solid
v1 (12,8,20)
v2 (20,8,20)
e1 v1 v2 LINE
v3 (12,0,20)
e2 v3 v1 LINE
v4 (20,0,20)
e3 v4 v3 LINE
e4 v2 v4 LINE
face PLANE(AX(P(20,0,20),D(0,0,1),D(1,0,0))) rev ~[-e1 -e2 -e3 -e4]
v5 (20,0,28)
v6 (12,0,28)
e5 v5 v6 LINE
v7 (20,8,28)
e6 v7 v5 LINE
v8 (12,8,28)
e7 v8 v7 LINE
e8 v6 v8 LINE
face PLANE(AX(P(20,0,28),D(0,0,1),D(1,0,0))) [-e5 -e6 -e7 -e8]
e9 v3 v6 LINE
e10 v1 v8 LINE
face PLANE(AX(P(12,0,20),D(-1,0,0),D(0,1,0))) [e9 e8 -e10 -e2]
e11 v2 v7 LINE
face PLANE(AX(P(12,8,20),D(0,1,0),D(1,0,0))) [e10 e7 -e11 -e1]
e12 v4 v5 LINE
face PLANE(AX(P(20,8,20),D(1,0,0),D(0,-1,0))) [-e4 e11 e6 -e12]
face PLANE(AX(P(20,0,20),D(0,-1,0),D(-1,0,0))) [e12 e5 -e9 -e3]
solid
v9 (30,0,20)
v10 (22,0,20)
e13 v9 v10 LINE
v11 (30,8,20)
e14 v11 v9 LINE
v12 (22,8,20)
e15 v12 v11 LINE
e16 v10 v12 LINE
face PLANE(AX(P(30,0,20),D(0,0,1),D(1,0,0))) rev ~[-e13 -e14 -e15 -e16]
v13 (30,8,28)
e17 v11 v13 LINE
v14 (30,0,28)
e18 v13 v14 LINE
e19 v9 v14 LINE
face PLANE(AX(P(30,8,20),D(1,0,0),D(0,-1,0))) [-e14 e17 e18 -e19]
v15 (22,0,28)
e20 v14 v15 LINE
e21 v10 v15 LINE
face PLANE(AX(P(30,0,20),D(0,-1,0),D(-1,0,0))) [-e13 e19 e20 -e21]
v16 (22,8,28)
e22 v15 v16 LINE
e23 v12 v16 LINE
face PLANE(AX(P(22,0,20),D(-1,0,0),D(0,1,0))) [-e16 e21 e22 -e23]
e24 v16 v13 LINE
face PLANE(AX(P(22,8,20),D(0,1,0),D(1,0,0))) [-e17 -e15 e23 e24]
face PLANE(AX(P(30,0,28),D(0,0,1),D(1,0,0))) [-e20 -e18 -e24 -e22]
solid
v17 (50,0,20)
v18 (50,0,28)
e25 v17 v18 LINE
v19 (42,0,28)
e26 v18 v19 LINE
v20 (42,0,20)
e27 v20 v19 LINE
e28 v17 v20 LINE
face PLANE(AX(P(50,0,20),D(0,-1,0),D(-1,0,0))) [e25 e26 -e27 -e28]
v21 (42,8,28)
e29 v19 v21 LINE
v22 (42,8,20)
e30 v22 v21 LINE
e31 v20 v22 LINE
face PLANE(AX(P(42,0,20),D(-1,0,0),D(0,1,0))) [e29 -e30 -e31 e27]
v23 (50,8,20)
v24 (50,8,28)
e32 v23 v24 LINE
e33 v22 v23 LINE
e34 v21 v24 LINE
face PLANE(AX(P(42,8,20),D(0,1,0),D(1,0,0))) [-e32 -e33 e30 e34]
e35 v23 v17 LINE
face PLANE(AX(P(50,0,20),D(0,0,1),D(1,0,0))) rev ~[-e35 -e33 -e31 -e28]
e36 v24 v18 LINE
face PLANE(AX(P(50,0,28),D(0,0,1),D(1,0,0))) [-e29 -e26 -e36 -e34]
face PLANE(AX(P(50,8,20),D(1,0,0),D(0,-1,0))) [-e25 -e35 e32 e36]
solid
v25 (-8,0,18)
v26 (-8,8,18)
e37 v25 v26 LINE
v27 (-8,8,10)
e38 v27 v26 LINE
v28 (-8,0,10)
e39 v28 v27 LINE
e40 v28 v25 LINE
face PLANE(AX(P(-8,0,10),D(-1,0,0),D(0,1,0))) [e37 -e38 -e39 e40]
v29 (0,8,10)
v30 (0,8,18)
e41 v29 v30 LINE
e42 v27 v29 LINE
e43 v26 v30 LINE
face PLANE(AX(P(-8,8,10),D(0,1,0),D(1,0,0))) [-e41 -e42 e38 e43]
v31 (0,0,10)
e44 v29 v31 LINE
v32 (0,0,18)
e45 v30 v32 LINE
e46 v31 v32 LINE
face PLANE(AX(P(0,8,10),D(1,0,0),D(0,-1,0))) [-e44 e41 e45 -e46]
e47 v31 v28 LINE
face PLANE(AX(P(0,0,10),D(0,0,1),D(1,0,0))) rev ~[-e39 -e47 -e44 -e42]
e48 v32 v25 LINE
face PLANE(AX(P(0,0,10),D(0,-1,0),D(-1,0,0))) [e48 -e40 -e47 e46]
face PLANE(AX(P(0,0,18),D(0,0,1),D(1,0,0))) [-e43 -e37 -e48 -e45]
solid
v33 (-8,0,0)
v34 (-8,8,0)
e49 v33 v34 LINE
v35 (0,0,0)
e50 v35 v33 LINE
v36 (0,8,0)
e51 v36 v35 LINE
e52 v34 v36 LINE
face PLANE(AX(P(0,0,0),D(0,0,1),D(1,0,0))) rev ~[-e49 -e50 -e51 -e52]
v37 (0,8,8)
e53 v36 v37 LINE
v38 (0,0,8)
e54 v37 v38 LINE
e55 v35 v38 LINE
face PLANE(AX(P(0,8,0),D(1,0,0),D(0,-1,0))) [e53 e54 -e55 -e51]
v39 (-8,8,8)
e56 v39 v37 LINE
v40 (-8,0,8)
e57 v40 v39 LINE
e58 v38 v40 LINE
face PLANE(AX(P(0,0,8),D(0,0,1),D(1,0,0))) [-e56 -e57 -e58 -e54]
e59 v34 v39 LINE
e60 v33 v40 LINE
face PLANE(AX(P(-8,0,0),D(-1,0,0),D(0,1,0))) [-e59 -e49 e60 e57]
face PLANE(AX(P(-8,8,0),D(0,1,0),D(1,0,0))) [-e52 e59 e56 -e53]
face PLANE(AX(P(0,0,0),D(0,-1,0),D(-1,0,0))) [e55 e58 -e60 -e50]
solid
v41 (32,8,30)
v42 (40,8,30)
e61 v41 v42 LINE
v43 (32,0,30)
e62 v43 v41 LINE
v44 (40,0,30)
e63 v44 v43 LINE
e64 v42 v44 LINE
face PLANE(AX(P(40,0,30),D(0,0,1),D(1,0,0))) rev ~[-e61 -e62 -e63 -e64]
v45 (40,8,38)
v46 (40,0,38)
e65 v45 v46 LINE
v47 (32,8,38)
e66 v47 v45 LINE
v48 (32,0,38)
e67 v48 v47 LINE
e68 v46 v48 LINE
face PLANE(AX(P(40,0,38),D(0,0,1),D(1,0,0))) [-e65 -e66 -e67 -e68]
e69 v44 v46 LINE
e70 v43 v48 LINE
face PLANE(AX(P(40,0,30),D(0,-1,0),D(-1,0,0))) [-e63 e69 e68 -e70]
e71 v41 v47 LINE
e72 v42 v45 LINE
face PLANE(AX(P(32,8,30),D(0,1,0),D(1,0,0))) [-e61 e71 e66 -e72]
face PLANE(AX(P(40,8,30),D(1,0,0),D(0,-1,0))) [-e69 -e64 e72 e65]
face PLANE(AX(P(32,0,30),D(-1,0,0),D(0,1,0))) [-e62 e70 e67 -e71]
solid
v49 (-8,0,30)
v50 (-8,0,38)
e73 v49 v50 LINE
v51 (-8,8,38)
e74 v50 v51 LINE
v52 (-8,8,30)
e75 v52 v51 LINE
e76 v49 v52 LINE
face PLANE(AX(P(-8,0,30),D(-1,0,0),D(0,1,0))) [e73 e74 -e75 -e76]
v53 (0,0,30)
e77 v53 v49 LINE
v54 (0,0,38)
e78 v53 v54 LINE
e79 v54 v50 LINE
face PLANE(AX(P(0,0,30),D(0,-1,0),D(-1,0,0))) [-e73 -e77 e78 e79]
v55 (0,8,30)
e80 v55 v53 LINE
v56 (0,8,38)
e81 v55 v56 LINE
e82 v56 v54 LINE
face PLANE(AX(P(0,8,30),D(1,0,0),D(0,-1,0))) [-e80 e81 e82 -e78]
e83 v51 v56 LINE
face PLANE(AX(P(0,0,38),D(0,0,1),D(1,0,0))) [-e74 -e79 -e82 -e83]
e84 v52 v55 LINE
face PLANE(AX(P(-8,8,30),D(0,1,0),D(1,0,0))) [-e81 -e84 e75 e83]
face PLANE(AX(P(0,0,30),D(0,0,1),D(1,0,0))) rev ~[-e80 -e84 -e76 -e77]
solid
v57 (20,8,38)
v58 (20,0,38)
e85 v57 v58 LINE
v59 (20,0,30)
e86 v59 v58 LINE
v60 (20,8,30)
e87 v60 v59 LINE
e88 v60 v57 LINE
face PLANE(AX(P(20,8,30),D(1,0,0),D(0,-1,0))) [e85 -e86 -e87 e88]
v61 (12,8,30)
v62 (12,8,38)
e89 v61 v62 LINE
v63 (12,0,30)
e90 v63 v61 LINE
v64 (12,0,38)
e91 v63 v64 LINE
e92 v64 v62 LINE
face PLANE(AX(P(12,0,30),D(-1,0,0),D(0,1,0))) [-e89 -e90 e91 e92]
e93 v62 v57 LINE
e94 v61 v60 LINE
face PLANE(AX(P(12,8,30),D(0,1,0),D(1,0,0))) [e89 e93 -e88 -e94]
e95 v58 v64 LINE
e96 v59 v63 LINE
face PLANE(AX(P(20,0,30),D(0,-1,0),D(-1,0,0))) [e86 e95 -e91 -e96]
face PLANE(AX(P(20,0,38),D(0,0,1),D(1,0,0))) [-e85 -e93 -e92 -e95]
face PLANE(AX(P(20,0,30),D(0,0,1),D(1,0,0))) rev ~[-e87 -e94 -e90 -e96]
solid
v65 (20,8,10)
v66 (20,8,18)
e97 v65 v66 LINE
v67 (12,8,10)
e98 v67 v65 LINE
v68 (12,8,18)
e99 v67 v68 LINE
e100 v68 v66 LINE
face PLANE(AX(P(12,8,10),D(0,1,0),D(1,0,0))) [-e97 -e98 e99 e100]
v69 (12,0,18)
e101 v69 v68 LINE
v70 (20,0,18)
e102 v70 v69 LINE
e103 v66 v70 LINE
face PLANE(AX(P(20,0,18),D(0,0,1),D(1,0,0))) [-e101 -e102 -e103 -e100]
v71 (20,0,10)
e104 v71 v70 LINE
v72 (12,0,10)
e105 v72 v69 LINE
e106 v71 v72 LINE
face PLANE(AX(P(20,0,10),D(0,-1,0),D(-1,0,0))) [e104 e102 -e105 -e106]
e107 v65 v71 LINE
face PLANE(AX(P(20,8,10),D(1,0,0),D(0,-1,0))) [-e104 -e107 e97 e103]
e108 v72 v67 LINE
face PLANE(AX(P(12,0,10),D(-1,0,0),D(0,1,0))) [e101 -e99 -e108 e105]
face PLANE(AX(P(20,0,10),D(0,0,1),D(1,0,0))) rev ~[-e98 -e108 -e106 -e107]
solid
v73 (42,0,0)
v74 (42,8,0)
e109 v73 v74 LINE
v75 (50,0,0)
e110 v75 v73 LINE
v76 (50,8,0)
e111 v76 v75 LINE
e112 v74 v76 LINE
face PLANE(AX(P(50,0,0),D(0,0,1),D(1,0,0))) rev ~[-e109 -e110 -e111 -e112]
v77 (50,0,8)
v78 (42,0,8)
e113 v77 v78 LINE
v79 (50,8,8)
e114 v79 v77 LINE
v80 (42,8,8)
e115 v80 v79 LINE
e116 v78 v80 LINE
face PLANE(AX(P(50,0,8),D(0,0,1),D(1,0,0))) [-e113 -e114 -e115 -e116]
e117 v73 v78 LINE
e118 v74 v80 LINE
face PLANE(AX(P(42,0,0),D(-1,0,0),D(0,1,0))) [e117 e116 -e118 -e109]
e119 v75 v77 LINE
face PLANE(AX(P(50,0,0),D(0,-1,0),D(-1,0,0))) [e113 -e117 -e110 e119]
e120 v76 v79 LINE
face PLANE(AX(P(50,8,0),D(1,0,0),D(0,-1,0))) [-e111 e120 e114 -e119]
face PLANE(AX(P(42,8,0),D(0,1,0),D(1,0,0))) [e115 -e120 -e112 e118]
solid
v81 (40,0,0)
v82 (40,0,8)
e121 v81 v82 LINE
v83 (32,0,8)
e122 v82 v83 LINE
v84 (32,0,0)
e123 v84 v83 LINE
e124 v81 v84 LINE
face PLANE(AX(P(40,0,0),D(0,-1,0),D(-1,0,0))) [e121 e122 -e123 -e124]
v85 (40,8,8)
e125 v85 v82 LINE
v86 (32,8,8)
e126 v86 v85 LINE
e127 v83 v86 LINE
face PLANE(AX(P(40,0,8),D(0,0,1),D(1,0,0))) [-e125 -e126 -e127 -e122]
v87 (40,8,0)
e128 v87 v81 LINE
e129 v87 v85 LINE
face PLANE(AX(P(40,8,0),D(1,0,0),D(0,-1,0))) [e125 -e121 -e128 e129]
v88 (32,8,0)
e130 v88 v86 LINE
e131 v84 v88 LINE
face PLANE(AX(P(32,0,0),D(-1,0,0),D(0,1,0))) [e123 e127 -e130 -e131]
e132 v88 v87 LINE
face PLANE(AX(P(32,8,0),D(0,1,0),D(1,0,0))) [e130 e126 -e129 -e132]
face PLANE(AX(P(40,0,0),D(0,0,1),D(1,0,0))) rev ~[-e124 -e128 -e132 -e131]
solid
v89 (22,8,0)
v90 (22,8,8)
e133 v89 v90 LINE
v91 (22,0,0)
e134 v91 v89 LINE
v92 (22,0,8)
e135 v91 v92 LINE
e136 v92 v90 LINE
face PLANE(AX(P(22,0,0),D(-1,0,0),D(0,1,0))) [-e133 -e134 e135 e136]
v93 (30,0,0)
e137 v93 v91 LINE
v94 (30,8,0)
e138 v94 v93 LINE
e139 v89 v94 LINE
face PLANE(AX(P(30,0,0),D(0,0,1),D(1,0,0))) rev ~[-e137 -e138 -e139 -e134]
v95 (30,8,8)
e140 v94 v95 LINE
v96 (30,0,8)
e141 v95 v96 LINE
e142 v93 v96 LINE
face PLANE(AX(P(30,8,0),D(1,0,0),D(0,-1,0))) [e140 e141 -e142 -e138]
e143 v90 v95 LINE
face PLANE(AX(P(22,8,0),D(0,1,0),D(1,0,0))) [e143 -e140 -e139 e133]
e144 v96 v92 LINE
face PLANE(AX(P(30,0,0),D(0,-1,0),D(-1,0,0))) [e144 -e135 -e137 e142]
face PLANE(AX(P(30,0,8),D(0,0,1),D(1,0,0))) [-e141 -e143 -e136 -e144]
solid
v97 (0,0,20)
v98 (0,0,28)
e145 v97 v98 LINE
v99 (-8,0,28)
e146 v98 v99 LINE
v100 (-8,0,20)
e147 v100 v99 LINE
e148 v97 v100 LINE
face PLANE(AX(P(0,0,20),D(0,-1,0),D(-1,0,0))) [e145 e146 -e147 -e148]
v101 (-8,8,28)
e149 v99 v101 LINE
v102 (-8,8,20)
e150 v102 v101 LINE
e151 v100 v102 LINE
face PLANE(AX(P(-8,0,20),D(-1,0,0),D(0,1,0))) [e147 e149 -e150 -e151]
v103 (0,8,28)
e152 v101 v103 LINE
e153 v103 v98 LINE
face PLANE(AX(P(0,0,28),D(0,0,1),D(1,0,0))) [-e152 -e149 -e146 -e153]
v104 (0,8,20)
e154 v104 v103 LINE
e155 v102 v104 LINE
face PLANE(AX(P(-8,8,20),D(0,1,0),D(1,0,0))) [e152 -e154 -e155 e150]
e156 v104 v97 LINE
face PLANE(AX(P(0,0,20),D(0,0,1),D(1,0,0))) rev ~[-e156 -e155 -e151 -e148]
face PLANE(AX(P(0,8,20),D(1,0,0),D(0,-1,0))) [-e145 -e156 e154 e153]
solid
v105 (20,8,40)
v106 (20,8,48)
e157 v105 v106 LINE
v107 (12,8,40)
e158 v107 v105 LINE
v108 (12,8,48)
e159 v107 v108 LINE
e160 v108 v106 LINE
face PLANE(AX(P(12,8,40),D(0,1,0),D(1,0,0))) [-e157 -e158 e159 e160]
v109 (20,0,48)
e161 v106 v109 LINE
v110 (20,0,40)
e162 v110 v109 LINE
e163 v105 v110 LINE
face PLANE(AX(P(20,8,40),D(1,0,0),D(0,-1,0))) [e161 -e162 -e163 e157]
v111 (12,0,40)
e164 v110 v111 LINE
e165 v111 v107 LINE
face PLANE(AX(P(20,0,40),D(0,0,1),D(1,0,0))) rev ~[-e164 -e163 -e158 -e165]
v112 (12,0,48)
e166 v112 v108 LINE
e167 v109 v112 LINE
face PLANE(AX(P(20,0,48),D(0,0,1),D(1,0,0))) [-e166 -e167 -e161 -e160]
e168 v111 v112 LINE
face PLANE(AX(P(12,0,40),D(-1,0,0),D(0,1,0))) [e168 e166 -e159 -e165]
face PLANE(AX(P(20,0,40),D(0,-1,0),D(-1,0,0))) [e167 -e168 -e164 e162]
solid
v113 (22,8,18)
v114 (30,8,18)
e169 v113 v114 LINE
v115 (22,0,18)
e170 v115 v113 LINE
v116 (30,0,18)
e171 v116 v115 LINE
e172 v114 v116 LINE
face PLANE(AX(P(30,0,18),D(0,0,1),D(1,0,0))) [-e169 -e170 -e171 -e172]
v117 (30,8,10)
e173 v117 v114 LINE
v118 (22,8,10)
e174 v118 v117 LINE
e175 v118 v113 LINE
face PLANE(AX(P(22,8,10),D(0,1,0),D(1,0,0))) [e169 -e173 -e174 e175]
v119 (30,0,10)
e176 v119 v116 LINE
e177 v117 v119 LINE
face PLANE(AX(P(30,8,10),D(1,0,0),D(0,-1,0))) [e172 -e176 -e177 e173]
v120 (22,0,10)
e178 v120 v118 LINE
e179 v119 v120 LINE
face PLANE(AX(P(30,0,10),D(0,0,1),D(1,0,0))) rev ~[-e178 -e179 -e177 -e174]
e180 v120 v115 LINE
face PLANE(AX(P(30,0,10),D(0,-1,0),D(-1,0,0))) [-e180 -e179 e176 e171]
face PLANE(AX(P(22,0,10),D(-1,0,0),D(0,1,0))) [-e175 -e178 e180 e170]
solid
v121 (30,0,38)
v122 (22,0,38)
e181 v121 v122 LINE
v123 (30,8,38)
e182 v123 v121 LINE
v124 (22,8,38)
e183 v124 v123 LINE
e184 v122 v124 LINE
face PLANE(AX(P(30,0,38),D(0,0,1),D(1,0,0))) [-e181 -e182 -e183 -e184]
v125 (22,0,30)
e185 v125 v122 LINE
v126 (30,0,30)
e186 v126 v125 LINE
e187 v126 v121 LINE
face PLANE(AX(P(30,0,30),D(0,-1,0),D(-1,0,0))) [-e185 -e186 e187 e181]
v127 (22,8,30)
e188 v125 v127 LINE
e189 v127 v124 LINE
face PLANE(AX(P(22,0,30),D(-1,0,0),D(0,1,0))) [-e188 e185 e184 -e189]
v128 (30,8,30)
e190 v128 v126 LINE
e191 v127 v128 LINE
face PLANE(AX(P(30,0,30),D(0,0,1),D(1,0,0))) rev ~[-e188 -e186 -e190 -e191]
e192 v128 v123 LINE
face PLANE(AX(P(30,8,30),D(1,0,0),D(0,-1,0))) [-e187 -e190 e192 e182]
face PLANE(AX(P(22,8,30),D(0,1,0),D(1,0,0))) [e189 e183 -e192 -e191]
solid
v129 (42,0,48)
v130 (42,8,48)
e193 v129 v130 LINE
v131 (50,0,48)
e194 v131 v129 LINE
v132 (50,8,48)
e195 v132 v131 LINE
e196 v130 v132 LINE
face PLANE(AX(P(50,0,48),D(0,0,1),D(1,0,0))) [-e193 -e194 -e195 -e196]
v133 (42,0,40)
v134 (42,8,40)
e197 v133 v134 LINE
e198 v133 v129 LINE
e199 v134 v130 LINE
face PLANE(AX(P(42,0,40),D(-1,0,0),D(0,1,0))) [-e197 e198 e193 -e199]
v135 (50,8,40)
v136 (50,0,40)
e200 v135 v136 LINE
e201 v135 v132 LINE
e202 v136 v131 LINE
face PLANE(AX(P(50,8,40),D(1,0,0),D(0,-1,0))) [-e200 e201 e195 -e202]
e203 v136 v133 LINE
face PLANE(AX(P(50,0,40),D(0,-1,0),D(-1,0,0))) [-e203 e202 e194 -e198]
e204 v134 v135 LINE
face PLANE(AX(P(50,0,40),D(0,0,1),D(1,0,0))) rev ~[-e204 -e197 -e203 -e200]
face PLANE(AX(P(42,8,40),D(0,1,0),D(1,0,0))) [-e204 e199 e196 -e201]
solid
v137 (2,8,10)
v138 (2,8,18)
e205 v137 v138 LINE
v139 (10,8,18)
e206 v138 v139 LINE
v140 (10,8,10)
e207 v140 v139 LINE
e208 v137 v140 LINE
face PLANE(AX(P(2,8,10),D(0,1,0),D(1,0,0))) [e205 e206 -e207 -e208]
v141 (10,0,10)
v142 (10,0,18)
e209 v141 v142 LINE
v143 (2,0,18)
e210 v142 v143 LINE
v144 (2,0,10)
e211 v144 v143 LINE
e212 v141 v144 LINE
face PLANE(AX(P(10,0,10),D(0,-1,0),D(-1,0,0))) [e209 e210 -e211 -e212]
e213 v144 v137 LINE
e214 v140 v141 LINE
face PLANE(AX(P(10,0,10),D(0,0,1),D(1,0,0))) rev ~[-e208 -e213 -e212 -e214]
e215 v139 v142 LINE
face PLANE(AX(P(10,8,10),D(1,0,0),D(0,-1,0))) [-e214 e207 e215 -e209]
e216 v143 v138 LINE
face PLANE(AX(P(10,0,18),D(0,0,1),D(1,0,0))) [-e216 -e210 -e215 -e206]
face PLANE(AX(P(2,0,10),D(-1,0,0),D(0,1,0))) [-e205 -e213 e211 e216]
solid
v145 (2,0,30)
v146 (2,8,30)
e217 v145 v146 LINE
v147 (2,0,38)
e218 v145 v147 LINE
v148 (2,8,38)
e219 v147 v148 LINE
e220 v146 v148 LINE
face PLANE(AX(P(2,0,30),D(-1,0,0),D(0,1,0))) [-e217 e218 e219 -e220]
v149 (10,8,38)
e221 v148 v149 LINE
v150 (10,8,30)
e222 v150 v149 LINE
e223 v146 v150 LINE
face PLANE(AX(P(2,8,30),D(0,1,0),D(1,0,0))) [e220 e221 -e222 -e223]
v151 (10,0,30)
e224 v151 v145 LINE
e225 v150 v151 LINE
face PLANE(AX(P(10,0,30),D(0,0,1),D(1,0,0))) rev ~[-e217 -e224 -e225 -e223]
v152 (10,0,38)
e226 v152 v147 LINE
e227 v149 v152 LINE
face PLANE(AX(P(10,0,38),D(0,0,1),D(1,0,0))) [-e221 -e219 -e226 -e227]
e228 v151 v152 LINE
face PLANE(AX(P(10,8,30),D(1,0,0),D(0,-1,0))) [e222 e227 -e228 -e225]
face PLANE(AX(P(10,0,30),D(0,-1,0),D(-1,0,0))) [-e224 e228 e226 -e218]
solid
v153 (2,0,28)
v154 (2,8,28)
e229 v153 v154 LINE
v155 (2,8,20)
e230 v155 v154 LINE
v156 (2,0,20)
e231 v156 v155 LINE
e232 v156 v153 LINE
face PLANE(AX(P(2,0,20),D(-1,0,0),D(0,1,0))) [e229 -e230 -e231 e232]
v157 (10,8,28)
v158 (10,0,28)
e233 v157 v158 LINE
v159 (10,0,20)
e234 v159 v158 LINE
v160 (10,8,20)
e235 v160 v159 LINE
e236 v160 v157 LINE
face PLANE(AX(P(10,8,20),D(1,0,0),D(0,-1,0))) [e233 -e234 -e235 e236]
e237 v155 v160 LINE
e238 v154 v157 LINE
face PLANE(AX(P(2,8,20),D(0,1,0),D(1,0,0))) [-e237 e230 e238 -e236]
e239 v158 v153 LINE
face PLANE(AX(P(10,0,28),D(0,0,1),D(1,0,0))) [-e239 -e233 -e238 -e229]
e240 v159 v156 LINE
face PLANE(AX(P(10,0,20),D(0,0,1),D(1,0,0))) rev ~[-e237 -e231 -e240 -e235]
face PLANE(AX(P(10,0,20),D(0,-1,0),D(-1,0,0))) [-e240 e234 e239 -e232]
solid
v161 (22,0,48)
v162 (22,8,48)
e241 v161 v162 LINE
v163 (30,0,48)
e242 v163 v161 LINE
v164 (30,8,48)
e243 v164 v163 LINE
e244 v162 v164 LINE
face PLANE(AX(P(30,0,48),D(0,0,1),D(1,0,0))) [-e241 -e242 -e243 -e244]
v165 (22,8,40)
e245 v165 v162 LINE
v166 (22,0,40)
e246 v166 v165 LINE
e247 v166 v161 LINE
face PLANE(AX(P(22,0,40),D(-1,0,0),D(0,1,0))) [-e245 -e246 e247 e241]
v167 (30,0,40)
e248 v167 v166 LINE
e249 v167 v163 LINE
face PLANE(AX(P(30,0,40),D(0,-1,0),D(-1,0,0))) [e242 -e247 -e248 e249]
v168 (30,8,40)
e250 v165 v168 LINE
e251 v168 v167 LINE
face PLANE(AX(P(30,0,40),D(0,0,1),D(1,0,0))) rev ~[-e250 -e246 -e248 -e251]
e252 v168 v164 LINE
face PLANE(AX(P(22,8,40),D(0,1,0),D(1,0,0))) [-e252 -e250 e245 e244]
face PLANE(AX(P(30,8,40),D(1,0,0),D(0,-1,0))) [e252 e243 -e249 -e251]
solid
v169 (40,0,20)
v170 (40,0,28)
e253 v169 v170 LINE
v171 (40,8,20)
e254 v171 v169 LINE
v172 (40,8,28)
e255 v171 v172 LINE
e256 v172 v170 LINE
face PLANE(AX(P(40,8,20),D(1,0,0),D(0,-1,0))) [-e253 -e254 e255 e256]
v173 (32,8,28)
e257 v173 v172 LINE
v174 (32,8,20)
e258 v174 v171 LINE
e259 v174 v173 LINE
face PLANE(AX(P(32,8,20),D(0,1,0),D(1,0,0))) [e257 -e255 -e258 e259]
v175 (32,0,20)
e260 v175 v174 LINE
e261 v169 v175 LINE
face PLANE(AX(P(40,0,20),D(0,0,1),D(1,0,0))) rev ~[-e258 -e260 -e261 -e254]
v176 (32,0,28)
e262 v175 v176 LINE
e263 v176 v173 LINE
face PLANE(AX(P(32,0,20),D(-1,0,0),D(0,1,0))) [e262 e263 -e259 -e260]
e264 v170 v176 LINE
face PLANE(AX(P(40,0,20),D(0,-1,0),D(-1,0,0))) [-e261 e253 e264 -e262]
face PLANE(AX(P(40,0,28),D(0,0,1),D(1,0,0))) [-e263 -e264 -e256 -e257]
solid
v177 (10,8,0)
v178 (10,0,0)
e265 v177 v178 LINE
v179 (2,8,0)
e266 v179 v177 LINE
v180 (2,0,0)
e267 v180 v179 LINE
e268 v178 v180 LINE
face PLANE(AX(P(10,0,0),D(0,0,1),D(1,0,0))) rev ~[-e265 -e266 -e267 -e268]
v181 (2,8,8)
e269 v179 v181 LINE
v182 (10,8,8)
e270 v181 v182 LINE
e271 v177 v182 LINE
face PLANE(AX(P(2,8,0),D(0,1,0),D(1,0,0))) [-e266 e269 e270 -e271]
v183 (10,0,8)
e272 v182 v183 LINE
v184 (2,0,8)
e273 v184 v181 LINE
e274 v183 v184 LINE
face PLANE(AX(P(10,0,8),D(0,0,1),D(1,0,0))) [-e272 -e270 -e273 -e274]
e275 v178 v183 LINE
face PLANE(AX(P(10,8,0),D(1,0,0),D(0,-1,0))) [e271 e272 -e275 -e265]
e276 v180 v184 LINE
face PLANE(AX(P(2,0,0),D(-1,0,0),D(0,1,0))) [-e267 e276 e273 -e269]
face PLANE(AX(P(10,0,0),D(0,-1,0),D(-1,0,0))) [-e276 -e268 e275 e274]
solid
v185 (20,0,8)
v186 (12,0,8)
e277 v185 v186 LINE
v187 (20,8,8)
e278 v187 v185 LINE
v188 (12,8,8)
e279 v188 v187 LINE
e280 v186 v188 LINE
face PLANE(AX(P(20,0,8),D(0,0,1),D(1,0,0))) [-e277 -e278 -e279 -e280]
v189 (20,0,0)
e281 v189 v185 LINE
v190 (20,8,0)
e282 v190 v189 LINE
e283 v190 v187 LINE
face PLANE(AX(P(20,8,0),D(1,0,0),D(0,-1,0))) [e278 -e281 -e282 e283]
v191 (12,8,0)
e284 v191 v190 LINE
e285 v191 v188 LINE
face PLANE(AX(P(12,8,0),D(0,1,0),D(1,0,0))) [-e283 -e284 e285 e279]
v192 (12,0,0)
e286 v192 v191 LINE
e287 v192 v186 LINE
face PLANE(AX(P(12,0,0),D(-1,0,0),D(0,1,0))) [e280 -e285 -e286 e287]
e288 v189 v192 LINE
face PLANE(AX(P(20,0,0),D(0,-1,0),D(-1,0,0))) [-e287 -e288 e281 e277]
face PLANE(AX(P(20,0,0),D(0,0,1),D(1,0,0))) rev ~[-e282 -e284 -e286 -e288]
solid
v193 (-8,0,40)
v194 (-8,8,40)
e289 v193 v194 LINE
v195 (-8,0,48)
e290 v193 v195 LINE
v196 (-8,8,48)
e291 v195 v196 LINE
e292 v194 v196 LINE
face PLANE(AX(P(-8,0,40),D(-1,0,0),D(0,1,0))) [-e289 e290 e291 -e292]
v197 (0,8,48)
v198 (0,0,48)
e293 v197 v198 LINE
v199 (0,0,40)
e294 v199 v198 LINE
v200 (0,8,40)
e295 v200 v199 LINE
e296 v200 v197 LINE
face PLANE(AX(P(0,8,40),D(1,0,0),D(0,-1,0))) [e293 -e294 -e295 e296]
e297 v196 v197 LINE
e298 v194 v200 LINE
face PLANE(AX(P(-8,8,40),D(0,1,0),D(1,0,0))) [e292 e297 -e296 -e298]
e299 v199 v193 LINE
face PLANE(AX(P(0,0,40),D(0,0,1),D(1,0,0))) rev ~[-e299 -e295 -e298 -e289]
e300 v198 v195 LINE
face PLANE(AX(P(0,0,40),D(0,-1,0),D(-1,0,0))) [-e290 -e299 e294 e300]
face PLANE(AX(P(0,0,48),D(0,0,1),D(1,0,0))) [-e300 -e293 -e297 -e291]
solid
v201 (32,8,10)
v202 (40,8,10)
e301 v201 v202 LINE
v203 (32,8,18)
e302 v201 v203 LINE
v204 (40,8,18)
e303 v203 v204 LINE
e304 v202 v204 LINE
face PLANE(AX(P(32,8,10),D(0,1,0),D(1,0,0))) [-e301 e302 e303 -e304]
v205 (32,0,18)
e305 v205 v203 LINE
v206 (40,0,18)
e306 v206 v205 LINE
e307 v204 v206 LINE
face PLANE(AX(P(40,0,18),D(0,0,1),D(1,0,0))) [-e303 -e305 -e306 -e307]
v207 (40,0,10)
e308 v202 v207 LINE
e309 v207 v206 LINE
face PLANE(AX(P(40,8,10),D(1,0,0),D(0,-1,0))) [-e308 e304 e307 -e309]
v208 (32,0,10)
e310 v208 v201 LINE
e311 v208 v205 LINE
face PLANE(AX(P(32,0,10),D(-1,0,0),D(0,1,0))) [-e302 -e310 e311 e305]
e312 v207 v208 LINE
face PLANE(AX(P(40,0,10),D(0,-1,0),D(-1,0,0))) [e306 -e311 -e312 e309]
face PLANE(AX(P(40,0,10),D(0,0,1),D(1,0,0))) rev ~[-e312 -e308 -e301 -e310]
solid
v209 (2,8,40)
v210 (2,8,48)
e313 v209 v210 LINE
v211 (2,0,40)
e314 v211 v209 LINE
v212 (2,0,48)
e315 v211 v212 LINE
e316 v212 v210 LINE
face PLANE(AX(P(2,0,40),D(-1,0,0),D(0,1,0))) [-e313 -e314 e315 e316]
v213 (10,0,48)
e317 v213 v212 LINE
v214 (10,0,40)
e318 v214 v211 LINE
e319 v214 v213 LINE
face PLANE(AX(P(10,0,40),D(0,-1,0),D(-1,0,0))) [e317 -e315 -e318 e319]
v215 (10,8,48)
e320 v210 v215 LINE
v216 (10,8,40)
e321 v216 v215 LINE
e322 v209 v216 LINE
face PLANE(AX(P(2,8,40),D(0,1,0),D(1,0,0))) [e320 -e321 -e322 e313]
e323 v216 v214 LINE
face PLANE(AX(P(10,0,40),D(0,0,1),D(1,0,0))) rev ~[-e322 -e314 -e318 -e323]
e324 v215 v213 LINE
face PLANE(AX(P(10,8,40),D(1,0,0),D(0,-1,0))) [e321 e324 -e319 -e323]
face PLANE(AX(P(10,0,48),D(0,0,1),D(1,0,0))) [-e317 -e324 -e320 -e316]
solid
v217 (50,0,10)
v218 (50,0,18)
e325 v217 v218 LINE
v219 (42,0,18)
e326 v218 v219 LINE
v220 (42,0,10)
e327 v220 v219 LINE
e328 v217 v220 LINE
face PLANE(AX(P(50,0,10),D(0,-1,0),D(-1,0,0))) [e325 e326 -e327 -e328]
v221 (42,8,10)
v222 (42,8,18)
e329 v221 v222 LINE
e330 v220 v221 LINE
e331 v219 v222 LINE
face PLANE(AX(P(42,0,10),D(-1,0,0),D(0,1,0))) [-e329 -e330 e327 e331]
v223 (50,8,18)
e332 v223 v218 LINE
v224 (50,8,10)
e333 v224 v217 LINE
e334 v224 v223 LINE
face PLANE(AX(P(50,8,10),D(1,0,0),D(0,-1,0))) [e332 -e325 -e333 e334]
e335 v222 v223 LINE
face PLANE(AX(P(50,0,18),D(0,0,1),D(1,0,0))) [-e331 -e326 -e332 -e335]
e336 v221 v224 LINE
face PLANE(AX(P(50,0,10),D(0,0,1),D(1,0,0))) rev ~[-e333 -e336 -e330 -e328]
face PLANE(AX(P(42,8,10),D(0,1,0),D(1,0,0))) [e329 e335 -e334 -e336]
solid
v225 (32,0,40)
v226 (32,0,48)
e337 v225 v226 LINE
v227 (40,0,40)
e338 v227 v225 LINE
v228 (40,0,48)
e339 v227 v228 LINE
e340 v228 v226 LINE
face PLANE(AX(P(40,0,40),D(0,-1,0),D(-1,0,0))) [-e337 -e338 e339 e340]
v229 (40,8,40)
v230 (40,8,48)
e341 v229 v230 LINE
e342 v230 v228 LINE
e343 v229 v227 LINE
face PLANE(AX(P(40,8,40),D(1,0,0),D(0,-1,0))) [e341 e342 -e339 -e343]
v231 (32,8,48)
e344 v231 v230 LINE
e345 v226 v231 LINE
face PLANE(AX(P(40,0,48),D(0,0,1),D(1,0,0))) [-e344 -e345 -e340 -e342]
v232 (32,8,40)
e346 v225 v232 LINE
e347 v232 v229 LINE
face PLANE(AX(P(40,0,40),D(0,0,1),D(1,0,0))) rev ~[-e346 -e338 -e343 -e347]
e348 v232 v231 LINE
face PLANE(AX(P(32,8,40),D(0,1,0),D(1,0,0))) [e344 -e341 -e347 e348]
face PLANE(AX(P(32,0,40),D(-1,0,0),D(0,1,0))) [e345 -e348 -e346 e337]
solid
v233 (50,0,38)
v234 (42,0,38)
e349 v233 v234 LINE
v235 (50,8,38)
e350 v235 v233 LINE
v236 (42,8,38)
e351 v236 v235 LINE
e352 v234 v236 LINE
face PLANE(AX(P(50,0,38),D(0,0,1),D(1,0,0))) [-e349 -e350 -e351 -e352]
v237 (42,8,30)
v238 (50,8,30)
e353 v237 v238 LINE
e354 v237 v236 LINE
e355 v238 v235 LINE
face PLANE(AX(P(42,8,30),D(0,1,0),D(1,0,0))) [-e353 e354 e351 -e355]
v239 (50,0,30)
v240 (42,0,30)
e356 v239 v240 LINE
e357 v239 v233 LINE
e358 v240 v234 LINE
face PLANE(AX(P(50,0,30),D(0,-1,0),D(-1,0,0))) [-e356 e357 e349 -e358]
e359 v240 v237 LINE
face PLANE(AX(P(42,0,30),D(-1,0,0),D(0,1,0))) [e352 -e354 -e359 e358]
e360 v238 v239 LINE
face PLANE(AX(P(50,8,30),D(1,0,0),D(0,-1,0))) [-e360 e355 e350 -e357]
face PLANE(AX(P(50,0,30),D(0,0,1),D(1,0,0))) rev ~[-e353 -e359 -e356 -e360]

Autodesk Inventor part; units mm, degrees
ref_plane "YZ Plane" through (0, 0, 0) normal (1, 0, 0) x (0, 1, 0)
ref_plane "XZ Plane" through (0, 0, 0) normal (0, 1, 0) x (-1, 0, 0)
ref_plane "XY Plane" through (0, 0, 0) normal (0, 0, 1) x (1, 0, 0)
sketch "Esquisse1" plane through (0, 0, 0) normal (0, 0, 1) x (1, 0, 0)
  line L0 (0, 0) -> (-8, 0)
  line L1 (-8, 0) -> (-8, 8)
  line L2 (-8, 8) -> (0, 8)
  line L3 (0, 8) -> (0, 0)
  dimension "d0" = 8
  dimension "d1" = 8
extrude "cube" add sketch "Esquisse1" along normal blind 8
pattern_linear "Réseau rectangulaire1" count 6 spacing 10 along (1, 0, 0) count 5 spacing 10 along (0, 0, 1) of "cube"
properties part number "cubes"
